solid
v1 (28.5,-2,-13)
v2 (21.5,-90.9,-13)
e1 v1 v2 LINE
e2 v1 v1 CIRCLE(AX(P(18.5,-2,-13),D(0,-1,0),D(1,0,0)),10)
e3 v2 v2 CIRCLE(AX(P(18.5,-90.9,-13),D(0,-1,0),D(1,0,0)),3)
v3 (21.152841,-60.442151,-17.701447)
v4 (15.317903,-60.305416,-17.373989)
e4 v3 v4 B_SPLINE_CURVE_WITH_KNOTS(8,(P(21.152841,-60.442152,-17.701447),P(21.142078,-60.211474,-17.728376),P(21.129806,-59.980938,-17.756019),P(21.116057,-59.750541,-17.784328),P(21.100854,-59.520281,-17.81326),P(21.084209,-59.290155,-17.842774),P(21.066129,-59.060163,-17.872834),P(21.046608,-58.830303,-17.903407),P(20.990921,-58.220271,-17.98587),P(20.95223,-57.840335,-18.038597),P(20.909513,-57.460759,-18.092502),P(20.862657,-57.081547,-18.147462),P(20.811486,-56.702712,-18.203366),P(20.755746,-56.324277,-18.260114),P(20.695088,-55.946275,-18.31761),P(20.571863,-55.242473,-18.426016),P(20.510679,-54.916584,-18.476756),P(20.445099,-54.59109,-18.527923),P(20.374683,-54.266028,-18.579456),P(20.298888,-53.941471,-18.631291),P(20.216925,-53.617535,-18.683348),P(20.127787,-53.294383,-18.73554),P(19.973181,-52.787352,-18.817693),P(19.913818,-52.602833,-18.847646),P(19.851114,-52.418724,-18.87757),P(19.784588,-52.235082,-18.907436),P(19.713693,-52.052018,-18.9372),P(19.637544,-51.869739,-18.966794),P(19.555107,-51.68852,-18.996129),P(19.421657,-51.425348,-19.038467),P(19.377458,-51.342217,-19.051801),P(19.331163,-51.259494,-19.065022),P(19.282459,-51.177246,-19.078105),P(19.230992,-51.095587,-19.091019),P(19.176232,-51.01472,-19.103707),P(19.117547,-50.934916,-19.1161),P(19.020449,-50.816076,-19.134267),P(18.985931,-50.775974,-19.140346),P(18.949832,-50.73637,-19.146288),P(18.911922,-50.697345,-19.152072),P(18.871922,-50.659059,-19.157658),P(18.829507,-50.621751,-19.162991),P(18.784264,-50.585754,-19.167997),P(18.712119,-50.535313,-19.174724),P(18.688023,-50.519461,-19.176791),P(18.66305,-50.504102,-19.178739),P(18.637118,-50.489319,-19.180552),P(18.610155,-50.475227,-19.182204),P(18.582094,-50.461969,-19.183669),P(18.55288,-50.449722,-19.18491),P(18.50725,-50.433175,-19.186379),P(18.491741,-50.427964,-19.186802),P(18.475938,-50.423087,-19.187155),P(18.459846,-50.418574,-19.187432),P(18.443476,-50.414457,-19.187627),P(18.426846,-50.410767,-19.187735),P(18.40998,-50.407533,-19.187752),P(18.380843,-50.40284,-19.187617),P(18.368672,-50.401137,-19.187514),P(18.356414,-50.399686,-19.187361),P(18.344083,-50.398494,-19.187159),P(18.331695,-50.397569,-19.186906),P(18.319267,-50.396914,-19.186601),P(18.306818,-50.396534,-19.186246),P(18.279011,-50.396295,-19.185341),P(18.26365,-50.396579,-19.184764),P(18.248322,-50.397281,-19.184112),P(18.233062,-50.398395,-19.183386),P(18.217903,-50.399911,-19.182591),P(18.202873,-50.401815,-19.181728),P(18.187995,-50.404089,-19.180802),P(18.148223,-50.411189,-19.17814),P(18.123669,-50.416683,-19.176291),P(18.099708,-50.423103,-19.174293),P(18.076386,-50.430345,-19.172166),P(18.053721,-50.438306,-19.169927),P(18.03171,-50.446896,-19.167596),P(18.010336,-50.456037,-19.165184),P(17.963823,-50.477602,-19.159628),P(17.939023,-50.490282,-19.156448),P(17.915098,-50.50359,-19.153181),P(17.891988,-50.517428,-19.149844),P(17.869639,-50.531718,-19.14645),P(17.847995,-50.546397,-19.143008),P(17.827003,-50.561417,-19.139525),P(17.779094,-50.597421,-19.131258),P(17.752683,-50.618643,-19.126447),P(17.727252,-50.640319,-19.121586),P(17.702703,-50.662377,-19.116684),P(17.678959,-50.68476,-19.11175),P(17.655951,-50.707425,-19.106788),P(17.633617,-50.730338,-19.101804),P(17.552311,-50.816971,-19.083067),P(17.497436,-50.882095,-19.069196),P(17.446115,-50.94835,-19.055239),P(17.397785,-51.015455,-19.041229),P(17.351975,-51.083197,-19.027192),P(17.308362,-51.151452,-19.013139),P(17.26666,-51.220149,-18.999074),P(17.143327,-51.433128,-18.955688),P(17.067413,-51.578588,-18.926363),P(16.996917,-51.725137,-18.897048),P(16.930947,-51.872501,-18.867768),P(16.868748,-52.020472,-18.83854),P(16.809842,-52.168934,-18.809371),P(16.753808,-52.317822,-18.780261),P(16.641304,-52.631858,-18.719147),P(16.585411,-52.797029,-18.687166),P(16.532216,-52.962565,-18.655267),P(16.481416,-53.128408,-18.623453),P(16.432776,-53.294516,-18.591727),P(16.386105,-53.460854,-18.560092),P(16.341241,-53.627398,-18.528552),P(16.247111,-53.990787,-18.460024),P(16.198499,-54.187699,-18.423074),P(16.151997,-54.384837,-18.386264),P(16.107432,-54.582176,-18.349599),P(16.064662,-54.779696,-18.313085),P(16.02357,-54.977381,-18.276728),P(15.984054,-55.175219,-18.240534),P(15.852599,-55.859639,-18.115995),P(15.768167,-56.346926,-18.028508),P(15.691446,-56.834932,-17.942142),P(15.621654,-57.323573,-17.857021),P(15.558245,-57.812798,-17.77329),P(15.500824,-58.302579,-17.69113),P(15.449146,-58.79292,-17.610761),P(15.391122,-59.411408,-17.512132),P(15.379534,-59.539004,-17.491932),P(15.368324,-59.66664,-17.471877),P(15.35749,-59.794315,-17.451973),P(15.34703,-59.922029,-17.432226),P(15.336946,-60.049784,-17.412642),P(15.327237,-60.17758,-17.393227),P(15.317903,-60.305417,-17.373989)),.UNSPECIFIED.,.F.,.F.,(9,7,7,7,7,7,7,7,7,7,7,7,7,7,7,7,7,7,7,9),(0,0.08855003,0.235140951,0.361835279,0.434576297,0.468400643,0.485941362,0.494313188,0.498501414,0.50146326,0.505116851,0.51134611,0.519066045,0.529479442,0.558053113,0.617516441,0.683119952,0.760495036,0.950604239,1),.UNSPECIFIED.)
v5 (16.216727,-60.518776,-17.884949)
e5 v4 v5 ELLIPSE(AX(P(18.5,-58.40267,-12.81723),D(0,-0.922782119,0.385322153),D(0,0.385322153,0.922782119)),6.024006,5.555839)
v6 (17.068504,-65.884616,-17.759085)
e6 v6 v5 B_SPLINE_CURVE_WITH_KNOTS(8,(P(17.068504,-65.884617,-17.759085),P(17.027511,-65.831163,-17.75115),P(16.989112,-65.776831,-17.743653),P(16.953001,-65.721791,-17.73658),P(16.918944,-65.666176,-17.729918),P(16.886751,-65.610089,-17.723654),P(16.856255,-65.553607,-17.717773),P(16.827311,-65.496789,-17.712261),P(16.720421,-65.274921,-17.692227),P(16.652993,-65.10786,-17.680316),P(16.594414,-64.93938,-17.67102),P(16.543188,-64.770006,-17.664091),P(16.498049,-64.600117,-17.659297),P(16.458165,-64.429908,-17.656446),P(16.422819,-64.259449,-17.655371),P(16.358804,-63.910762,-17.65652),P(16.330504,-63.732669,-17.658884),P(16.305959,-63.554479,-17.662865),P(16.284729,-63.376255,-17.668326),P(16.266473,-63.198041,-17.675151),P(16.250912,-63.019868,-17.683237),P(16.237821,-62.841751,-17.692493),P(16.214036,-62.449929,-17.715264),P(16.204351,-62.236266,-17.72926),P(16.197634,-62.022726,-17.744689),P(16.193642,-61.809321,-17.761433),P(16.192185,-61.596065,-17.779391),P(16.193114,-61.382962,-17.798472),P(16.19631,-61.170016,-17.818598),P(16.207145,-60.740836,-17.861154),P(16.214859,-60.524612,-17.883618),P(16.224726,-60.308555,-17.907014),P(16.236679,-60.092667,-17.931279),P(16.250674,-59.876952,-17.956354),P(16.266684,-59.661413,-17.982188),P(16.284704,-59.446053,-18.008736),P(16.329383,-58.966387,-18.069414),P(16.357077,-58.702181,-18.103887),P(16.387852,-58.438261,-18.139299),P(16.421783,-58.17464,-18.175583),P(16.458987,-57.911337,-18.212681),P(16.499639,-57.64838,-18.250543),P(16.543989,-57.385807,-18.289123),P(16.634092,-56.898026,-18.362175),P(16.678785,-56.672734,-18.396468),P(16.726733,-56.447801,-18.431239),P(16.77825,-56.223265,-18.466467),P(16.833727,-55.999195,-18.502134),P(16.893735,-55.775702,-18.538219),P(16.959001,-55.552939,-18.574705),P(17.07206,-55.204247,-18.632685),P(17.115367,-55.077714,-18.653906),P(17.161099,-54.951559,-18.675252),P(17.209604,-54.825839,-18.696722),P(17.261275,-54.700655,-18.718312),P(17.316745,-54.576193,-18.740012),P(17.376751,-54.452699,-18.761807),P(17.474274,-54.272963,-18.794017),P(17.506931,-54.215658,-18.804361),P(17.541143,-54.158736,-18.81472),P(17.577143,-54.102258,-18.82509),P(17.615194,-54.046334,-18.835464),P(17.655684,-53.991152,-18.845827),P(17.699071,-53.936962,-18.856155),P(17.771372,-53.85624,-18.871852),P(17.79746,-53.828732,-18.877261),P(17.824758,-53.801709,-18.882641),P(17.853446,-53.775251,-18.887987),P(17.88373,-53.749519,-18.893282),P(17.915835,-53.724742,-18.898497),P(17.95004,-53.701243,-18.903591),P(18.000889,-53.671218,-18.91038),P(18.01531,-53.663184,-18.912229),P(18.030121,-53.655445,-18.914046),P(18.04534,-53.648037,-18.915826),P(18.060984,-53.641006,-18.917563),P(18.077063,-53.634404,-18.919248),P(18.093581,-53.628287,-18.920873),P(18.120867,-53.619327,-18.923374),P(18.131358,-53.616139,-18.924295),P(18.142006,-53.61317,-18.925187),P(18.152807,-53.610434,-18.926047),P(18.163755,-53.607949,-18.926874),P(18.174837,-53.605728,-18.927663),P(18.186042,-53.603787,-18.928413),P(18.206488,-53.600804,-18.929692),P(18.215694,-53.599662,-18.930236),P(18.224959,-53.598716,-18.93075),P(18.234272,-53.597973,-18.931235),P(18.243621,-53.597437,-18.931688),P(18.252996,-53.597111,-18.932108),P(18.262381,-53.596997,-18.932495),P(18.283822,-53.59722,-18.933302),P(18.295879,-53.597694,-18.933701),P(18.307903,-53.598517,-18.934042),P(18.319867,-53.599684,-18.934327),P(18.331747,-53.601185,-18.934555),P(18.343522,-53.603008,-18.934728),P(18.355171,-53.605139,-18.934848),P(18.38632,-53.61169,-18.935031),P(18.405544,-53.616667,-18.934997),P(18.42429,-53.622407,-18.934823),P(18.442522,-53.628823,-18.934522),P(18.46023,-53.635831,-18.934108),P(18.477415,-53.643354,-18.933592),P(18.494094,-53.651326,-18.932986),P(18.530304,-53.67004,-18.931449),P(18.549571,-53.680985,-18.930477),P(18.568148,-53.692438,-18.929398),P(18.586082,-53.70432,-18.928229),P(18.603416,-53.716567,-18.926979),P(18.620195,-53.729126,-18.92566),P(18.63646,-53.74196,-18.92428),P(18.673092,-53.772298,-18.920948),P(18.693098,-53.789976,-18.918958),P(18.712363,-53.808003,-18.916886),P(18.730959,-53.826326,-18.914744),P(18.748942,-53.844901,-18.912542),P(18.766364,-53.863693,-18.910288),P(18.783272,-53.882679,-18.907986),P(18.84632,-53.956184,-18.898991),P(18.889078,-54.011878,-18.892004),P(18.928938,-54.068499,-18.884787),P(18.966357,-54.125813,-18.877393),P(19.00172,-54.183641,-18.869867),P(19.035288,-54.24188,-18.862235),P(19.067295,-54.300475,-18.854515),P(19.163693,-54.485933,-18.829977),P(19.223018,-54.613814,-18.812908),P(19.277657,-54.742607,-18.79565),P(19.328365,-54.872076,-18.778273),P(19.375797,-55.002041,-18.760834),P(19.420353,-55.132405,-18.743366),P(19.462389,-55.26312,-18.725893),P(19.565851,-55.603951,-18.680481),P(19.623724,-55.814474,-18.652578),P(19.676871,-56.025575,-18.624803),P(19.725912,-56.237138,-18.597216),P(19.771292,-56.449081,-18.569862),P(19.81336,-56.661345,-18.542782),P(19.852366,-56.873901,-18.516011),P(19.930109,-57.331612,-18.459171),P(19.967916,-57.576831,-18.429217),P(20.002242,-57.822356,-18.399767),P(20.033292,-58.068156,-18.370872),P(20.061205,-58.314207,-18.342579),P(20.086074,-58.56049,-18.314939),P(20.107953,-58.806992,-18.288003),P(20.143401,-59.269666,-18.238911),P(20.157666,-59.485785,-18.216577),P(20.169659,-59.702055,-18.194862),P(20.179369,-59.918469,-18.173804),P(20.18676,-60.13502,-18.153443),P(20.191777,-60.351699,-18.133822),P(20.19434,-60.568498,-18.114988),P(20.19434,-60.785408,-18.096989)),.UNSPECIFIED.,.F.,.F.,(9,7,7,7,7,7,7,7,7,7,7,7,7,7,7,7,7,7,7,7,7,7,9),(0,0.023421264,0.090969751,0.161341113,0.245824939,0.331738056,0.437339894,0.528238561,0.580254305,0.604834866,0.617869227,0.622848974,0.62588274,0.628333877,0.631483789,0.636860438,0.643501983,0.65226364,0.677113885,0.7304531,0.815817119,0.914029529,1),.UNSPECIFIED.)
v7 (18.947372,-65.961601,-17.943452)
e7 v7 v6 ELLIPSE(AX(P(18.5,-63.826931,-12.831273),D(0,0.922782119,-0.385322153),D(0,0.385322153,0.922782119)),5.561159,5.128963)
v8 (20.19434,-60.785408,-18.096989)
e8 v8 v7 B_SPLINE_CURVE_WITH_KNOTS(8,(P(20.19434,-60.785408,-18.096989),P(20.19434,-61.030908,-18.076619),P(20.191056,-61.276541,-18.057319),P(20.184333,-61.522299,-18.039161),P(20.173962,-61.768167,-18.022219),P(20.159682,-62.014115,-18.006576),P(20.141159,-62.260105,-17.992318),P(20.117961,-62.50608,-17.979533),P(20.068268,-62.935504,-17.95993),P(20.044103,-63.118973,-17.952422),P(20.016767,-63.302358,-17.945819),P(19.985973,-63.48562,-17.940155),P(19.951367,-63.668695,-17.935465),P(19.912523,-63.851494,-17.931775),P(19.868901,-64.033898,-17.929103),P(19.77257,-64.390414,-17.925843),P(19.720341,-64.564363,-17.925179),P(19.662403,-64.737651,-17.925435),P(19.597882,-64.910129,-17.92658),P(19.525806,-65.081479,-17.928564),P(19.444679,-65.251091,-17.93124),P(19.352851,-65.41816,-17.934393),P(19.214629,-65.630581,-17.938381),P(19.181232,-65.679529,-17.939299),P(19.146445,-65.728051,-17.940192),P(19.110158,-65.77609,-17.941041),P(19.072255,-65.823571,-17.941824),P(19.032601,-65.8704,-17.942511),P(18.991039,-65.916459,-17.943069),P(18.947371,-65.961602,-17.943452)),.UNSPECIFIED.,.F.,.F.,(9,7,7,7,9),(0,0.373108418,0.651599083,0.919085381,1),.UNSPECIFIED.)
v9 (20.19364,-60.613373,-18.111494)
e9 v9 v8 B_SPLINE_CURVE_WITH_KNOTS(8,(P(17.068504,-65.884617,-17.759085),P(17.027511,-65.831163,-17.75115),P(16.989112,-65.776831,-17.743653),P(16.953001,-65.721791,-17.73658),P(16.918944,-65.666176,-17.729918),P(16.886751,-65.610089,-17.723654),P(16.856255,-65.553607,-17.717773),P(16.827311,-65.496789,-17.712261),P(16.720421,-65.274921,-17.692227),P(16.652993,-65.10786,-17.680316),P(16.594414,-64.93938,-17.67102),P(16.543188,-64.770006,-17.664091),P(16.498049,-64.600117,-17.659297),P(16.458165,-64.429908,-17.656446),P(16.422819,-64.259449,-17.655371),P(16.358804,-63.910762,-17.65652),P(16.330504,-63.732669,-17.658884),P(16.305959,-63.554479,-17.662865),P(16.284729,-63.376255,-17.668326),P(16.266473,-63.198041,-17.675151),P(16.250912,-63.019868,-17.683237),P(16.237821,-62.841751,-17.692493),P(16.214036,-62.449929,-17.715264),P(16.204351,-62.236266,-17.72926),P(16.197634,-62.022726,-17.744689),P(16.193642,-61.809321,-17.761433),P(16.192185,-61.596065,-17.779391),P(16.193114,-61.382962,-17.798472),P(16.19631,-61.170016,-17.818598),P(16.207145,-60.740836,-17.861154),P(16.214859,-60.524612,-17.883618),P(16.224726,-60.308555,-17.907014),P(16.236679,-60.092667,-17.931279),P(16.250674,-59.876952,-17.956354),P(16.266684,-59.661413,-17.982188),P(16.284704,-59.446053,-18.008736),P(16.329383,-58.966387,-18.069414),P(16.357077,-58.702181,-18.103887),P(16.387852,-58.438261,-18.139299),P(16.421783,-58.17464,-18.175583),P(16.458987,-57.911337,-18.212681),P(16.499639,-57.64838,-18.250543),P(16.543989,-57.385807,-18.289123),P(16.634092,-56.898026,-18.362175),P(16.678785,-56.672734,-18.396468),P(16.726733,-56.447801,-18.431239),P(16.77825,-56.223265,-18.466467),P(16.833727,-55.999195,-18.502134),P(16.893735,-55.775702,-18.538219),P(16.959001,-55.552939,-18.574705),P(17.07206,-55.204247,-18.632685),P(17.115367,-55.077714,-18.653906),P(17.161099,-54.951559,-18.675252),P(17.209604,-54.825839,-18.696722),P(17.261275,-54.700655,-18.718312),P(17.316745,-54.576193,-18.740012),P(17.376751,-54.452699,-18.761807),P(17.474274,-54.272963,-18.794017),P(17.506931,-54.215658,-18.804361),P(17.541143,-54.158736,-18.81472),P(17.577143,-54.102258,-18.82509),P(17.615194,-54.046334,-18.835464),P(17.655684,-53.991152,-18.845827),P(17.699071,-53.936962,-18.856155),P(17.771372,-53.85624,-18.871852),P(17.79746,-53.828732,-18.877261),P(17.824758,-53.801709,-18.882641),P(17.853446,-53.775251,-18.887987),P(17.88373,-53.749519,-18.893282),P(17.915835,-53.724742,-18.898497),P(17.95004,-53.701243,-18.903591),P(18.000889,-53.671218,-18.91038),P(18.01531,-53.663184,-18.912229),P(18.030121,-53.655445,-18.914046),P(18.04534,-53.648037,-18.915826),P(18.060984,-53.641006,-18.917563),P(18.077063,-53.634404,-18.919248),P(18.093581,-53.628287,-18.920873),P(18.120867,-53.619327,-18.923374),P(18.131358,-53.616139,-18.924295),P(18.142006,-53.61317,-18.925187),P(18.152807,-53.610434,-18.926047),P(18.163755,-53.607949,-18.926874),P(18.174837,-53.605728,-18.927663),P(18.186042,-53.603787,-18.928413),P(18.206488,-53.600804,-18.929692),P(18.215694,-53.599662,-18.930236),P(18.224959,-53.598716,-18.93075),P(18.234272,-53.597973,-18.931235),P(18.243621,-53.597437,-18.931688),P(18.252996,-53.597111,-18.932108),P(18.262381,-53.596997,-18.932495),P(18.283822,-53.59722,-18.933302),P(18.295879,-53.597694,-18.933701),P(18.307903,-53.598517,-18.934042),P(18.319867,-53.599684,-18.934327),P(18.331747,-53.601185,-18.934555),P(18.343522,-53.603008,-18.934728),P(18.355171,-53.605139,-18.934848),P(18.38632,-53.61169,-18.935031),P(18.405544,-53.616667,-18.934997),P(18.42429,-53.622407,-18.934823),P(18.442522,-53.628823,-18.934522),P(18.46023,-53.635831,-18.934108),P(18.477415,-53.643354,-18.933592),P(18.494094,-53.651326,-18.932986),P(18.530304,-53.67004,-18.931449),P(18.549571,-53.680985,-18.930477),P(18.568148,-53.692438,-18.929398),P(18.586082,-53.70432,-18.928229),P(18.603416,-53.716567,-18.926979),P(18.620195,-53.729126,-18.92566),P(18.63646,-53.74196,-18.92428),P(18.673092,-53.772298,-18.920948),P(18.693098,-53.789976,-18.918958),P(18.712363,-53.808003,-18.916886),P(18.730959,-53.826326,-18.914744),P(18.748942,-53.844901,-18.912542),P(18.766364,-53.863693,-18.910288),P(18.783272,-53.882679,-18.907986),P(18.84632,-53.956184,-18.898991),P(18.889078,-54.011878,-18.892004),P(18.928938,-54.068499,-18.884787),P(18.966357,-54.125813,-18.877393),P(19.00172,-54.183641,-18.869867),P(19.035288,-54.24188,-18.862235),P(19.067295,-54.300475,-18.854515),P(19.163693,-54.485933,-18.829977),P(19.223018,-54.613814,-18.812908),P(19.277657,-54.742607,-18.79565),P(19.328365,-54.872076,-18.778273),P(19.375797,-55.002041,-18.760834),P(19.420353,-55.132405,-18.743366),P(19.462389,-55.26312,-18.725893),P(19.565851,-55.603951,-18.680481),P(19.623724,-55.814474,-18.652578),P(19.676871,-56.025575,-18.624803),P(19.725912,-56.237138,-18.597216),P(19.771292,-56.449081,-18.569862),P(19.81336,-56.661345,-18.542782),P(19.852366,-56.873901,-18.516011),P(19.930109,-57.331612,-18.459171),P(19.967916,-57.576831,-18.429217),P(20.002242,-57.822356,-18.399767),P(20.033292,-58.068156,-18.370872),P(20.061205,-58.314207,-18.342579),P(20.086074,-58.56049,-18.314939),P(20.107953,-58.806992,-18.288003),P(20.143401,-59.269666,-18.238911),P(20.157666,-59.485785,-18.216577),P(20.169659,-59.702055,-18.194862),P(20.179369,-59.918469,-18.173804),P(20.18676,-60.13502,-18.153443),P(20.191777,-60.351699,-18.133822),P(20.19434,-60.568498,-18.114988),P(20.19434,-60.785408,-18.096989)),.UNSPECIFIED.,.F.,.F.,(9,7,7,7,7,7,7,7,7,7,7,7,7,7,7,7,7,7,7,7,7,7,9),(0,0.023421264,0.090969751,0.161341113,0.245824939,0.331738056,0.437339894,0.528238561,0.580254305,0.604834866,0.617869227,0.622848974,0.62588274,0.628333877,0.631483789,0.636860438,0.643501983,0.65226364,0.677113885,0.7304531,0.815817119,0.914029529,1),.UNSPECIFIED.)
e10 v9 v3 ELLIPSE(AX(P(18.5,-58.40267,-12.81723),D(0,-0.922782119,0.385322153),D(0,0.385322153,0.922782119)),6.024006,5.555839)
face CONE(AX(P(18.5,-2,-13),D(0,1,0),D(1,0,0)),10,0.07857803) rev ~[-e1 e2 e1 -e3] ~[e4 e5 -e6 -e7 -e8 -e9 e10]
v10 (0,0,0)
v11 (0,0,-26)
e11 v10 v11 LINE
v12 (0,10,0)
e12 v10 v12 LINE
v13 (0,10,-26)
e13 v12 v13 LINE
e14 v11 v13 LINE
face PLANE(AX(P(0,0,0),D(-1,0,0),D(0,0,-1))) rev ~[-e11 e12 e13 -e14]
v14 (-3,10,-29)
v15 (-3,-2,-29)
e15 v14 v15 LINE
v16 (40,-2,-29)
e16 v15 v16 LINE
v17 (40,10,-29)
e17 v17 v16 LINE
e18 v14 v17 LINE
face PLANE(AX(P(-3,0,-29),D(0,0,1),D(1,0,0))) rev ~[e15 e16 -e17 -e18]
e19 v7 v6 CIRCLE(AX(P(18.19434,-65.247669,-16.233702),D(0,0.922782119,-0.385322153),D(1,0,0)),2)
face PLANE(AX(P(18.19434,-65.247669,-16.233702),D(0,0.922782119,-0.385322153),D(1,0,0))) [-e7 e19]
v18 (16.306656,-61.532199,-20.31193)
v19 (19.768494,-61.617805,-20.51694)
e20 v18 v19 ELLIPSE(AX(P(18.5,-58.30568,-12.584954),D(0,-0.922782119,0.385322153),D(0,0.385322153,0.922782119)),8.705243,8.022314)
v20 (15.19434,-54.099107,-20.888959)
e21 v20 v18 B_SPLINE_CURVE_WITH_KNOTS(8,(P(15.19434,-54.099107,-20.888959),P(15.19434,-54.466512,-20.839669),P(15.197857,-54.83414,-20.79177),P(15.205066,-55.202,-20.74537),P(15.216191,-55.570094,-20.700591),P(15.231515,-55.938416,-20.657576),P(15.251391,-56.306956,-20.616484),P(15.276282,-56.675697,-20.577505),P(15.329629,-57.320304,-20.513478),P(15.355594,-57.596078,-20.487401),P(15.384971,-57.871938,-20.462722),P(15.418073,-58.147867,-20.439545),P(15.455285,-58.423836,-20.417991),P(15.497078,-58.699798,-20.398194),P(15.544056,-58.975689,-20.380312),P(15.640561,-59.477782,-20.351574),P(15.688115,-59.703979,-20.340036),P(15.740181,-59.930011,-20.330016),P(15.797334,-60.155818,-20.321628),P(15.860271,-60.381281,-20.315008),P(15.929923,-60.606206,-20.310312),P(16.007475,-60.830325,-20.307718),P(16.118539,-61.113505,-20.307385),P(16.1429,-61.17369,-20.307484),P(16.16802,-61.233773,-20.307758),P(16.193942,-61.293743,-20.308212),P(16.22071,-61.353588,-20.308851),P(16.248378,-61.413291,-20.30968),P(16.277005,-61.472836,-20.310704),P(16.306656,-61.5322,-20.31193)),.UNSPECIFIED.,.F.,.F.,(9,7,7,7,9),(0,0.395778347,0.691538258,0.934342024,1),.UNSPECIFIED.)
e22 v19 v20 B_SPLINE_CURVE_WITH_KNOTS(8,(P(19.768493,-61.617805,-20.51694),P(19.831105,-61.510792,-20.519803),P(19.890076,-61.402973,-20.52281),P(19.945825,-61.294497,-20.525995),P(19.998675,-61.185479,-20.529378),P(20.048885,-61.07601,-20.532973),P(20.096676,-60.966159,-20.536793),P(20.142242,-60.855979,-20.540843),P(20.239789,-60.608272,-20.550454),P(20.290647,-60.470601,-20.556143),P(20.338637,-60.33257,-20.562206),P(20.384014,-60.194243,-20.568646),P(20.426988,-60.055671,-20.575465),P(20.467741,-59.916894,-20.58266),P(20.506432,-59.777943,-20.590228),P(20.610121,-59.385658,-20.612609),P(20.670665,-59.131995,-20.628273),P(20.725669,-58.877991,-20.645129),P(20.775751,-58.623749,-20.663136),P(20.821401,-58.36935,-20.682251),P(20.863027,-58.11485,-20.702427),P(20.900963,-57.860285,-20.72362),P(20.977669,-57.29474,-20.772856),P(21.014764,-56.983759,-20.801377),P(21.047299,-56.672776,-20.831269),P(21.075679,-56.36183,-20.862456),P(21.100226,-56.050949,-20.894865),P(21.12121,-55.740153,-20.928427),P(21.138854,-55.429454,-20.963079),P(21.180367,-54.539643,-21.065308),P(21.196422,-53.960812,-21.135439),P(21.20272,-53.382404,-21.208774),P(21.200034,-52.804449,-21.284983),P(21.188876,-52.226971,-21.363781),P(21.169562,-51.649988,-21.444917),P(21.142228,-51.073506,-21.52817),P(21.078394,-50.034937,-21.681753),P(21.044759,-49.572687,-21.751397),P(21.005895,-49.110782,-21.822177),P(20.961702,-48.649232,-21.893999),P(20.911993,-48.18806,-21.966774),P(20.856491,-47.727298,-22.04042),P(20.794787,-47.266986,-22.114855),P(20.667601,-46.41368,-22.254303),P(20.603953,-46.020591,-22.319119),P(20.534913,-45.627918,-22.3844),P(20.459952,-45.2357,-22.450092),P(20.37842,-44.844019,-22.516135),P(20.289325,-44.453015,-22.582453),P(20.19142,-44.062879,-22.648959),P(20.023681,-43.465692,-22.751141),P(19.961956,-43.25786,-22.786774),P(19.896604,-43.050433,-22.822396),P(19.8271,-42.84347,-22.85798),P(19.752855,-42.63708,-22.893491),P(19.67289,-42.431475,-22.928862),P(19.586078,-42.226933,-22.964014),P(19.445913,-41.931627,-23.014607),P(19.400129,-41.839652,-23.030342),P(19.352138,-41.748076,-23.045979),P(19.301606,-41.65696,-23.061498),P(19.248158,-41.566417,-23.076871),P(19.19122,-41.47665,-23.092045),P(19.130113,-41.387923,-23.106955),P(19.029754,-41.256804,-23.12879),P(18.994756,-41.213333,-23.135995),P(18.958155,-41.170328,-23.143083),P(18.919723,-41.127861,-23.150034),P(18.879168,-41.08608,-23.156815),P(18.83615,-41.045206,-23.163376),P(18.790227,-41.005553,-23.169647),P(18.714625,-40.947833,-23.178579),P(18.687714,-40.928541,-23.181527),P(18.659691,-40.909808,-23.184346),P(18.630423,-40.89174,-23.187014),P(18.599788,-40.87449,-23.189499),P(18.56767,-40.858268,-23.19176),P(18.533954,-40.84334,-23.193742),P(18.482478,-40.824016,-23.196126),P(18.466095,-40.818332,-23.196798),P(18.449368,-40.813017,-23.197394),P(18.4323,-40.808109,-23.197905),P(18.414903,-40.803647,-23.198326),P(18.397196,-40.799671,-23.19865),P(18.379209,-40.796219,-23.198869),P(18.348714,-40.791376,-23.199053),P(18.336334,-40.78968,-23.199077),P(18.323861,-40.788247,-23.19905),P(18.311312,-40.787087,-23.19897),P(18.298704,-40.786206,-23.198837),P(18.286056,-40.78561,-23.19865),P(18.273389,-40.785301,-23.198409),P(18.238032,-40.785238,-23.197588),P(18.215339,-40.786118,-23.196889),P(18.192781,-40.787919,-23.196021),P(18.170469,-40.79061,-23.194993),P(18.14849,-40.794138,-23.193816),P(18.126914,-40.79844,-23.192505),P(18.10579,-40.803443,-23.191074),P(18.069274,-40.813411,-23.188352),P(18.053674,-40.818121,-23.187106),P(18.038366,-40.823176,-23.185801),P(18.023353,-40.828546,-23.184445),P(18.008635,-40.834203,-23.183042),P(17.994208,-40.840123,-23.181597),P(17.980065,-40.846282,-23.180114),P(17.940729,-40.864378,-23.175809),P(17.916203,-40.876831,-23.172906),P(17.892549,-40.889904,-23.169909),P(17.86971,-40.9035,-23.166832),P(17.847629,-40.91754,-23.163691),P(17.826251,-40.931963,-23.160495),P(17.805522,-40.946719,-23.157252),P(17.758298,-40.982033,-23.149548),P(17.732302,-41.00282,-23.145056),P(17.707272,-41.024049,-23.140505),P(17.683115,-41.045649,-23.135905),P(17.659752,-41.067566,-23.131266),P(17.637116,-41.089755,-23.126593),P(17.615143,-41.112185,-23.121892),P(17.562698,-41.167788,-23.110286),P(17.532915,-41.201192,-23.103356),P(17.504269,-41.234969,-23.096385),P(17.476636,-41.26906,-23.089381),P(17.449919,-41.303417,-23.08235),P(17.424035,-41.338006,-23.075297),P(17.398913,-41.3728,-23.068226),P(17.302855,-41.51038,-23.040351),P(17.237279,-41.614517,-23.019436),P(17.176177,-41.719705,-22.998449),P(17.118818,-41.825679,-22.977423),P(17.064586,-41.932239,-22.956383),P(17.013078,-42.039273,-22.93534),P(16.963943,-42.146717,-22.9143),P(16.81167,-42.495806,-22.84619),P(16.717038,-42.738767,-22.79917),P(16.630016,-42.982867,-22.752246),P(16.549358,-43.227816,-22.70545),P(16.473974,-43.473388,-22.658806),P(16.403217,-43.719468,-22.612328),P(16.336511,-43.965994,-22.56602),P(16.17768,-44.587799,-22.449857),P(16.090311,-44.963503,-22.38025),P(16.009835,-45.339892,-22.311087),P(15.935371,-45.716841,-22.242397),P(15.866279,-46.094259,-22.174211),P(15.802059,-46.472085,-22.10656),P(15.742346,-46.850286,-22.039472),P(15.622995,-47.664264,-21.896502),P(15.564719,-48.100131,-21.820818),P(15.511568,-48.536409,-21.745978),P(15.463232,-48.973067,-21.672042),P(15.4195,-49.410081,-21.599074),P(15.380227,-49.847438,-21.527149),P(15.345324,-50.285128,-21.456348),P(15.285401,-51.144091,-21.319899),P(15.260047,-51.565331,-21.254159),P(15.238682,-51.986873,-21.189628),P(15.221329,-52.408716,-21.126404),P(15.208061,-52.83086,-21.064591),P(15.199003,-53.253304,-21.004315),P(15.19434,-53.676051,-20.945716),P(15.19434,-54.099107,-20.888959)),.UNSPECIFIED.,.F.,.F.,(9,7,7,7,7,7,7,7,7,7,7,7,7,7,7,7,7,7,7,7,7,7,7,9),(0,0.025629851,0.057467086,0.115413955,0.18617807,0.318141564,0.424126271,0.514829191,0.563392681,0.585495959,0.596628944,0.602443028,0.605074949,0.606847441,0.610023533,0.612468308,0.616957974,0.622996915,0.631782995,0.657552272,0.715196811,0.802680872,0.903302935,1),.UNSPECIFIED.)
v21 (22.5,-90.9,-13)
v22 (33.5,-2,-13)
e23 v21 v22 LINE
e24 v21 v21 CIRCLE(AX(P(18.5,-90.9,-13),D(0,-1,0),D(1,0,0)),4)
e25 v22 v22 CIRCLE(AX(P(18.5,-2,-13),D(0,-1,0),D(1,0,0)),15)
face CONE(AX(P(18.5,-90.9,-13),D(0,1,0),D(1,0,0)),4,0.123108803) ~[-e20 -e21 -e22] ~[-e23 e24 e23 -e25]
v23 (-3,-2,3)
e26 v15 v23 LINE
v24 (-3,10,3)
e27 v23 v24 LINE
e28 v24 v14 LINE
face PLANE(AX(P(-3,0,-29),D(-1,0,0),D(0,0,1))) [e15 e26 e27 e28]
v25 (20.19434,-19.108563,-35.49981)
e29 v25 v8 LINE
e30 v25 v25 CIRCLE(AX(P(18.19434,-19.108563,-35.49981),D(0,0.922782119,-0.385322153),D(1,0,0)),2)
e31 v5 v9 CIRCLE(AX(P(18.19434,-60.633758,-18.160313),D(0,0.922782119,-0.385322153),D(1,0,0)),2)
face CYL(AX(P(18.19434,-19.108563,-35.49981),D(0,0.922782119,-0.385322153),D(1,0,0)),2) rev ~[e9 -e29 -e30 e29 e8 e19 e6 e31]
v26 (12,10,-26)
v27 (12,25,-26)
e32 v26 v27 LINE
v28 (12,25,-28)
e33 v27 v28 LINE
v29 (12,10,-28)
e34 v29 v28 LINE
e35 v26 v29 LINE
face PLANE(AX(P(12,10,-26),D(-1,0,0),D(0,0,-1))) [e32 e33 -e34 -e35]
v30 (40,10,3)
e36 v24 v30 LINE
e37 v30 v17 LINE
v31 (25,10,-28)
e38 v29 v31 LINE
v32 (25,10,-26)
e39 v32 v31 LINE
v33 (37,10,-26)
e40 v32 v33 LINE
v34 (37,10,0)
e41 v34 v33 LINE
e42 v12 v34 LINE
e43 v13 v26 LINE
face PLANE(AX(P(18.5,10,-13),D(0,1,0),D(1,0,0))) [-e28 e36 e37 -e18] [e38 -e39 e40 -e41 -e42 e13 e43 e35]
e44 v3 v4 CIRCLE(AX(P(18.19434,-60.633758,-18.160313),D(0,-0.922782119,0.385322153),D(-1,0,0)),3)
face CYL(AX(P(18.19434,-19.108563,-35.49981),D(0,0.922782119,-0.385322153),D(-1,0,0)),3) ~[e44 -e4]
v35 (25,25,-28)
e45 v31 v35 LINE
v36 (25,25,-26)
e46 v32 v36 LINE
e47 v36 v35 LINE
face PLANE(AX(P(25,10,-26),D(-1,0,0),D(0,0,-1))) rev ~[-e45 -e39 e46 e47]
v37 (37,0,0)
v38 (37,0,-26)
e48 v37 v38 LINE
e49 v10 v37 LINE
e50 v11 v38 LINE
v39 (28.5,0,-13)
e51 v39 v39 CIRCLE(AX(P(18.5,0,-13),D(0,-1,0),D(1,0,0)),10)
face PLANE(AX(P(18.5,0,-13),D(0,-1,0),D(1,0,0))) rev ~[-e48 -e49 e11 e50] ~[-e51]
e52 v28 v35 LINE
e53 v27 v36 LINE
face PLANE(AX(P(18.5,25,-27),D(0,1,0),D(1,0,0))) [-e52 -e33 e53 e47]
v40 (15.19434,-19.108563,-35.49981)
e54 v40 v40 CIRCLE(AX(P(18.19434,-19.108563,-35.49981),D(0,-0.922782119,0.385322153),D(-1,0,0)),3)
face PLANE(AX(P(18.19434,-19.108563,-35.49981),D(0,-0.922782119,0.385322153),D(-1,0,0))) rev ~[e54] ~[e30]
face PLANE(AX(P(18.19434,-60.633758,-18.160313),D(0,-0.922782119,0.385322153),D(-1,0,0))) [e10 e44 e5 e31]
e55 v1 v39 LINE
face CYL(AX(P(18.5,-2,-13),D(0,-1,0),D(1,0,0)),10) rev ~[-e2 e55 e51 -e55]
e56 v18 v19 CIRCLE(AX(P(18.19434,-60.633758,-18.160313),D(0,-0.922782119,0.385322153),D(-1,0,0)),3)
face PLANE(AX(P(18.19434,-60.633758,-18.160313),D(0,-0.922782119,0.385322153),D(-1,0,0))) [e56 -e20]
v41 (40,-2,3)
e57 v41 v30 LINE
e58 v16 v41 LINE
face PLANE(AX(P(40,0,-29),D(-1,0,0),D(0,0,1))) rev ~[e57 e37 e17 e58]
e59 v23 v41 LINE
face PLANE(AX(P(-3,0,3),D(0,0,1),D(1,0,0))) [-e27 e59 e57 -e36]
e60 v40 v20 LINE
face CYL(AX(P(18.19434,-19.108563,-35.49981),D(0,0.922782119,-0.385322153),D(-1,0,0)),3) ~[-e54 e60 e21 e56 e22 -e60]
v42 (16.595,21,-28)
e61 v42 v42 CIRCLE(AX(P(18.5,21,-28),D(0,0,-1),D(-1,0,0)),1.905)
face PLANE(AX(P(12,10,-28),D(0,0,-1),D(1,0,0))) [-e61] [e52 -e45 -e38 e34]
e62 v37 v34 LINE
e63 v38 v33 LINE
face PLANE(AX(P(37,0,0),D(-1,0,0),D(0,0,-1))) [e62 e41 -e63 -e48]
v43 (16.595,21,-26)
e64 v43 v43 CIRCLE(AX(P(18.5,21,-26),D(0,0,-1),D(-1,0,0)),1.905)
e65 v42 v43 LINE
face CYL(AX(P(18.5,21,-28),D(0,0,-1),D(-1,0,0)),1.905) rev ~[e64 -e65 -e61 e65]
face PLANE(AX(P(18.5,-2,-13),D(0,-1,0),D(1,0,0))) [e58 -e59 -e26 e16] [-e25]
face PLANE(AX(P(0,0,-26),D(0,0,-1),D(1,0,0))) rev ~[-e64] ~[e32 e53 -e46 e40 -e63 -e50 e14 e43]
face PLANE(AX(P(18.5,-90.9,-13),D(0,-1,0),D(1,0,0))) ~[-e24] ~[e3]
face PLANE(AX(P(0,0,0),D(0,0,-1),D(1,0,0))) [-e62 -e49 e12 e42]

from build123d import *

# Parameters (mm, degrees)
SKETCH1_W           = 43
SKETCH1_H           = 32
SKETCH1_W_2         = 37
SKETCH1_H_2         = 26
BOSS_EXTRUDE1_DEPTH = 10
SKETCH2_W           = 13
SKETCH2_H           = 2
BOSS_EXTRUDE2_DEPTH = 15
CUT_EXTRUDE1_REACH  = 33
SKETCH3_R           = 1.905
SKETCH4_W           = 43
SKETCH4_H           = 32
BOSS_EXTRUDE3_DEPTH = 2
CUT_EXTRUDE2_REACH  = 29
SKETCH5_R           = 10
SKETCH14_R          = 3
BOSS_EXTRUDE4_DEPTH = 45
SKETCH16_R          = 2
CUT_EXTRUDE3_DEPTH  = 50


with BuildPart() as part:
    # Sketch1 → Boss-Extrude1 (new body)
    with BuildSketch(Plane(origin=(0, 0, 0), x_dir=(1, 0, 0), z_dir=(0, 1, 0))):
        with Locations((18.5, 13)):
            Rectangle(SKETCH1_W, SKETCH1_H)
        with Locations((18.5, 13)):
            Rectangle(SKETCH1_W_2, SKETCH1_H_2, mode=Mode.SUBTRACT)
    extrude(amount=BOSS_EXTRUDE1_DEPTH)

    # Sketch2 → Boss-Extrude2 (add)
    with BuildSketch(Plane(origin=(0, 10, 0), x_dir=(1, 0, 0), z_dir=(0, 1, 0))):
        with Locations((18.5, 27)):
            Rectangle(SKETCH2_W, SKETCH2_H)
    extrude(amount=BOSS_EXTRUDE2_DEPTH)

    # Sketch3 → Cut-Extrude1 (cut, up to next)
    with BuildSketch(Plane(origin=(0, 0, -28), x_dir=(-1, 0, 0), z_dir=(0, 0, -1)), mode=Mode.PRIVATE) as cut_extrude1_sk1:
        with Locations((-18.5, 21)):
            Circle(SKETCH3_R)
    cut_extrude1_tool1 = extrude(cut_extrude1_sk1.sketch, amount=-CUT_EXTRUDE1_REACH, mode=Mode.PRIVATE) & part.part
    add(cut_extrude1_tool1.solids().sort_by_distance((18.5, 21, -28))[0], mode=Mode.SUBTRACT)

    # Sketch4 → Boss-Extrude3 (add)
    with BuildSketch(Plane.XZ):
        with Locations((18.5, -13)):
            Rectangle(SKETCH4_W, SKETCH4_H)
    extrude(amount=BOSS_EXTRUDE3_DEPTH)

    # Sketch5 → Cut-Extrude2 (cut, up to next)
    with BuildSketch(Plane.XZ.offset(2), mode=Mode.PRIVATE) as cut_extrude2_sk1:
        with Locations((18.5, -13)):
            Circle(SKETCH5_R)
    cut_extrude2_tool1 = extrude(cut_extrude2_sk1.sketch, amount=-CUT_EXTRUDE2_REACH, mode=Mode.PRIVATE) & part.part
    add(cut_extrude2_tool1.solids().sort_by_distance((18.5, -2, -13))[0], mode=Mode.SUBTRACT)

    # Sketch9 → Revolve1 (revolve)
    with BuildSketch(Plane.XY.offset(-13)):
        Polygon((28.5, -2), (21.5, -90.9), (22.5, -90.9), (33.5, -2), align=None)
    revolve(axis=Axis((18.5, -2, -13), (0, -1, 0)))

    # Sketch14 → Boss-Extrude4 (add)
    with BuildSketch(Plane(origin=(18.5, -19.108562857, -35.499809934), x_dir=(-1, 0, 0), z_dir=(0, -0.922782119, 0.385322153))):
        with Locations((0.305660396, 0)):
            Circle(SKETCH14_R)
    extrude(amount=BOSS_EXTRUDE4_DEPTH)

    # Sketch16 → Cut-Extrude3 (cut)
    with BuildSketch(Plane(origin=(0, -3.648843771, 1.523631969), x_dir=(1, 0, 0), z_dir=(0, 0.922782119, -0.385322153))):
        with Locations((18.194339604, 40.1215424)):
            Circle(SKETCH16_R)
    extrude(amount=-CUT_EXTRUDE3_DEPTH, mode=Mode.SUBTRACT)


solid = part.part
